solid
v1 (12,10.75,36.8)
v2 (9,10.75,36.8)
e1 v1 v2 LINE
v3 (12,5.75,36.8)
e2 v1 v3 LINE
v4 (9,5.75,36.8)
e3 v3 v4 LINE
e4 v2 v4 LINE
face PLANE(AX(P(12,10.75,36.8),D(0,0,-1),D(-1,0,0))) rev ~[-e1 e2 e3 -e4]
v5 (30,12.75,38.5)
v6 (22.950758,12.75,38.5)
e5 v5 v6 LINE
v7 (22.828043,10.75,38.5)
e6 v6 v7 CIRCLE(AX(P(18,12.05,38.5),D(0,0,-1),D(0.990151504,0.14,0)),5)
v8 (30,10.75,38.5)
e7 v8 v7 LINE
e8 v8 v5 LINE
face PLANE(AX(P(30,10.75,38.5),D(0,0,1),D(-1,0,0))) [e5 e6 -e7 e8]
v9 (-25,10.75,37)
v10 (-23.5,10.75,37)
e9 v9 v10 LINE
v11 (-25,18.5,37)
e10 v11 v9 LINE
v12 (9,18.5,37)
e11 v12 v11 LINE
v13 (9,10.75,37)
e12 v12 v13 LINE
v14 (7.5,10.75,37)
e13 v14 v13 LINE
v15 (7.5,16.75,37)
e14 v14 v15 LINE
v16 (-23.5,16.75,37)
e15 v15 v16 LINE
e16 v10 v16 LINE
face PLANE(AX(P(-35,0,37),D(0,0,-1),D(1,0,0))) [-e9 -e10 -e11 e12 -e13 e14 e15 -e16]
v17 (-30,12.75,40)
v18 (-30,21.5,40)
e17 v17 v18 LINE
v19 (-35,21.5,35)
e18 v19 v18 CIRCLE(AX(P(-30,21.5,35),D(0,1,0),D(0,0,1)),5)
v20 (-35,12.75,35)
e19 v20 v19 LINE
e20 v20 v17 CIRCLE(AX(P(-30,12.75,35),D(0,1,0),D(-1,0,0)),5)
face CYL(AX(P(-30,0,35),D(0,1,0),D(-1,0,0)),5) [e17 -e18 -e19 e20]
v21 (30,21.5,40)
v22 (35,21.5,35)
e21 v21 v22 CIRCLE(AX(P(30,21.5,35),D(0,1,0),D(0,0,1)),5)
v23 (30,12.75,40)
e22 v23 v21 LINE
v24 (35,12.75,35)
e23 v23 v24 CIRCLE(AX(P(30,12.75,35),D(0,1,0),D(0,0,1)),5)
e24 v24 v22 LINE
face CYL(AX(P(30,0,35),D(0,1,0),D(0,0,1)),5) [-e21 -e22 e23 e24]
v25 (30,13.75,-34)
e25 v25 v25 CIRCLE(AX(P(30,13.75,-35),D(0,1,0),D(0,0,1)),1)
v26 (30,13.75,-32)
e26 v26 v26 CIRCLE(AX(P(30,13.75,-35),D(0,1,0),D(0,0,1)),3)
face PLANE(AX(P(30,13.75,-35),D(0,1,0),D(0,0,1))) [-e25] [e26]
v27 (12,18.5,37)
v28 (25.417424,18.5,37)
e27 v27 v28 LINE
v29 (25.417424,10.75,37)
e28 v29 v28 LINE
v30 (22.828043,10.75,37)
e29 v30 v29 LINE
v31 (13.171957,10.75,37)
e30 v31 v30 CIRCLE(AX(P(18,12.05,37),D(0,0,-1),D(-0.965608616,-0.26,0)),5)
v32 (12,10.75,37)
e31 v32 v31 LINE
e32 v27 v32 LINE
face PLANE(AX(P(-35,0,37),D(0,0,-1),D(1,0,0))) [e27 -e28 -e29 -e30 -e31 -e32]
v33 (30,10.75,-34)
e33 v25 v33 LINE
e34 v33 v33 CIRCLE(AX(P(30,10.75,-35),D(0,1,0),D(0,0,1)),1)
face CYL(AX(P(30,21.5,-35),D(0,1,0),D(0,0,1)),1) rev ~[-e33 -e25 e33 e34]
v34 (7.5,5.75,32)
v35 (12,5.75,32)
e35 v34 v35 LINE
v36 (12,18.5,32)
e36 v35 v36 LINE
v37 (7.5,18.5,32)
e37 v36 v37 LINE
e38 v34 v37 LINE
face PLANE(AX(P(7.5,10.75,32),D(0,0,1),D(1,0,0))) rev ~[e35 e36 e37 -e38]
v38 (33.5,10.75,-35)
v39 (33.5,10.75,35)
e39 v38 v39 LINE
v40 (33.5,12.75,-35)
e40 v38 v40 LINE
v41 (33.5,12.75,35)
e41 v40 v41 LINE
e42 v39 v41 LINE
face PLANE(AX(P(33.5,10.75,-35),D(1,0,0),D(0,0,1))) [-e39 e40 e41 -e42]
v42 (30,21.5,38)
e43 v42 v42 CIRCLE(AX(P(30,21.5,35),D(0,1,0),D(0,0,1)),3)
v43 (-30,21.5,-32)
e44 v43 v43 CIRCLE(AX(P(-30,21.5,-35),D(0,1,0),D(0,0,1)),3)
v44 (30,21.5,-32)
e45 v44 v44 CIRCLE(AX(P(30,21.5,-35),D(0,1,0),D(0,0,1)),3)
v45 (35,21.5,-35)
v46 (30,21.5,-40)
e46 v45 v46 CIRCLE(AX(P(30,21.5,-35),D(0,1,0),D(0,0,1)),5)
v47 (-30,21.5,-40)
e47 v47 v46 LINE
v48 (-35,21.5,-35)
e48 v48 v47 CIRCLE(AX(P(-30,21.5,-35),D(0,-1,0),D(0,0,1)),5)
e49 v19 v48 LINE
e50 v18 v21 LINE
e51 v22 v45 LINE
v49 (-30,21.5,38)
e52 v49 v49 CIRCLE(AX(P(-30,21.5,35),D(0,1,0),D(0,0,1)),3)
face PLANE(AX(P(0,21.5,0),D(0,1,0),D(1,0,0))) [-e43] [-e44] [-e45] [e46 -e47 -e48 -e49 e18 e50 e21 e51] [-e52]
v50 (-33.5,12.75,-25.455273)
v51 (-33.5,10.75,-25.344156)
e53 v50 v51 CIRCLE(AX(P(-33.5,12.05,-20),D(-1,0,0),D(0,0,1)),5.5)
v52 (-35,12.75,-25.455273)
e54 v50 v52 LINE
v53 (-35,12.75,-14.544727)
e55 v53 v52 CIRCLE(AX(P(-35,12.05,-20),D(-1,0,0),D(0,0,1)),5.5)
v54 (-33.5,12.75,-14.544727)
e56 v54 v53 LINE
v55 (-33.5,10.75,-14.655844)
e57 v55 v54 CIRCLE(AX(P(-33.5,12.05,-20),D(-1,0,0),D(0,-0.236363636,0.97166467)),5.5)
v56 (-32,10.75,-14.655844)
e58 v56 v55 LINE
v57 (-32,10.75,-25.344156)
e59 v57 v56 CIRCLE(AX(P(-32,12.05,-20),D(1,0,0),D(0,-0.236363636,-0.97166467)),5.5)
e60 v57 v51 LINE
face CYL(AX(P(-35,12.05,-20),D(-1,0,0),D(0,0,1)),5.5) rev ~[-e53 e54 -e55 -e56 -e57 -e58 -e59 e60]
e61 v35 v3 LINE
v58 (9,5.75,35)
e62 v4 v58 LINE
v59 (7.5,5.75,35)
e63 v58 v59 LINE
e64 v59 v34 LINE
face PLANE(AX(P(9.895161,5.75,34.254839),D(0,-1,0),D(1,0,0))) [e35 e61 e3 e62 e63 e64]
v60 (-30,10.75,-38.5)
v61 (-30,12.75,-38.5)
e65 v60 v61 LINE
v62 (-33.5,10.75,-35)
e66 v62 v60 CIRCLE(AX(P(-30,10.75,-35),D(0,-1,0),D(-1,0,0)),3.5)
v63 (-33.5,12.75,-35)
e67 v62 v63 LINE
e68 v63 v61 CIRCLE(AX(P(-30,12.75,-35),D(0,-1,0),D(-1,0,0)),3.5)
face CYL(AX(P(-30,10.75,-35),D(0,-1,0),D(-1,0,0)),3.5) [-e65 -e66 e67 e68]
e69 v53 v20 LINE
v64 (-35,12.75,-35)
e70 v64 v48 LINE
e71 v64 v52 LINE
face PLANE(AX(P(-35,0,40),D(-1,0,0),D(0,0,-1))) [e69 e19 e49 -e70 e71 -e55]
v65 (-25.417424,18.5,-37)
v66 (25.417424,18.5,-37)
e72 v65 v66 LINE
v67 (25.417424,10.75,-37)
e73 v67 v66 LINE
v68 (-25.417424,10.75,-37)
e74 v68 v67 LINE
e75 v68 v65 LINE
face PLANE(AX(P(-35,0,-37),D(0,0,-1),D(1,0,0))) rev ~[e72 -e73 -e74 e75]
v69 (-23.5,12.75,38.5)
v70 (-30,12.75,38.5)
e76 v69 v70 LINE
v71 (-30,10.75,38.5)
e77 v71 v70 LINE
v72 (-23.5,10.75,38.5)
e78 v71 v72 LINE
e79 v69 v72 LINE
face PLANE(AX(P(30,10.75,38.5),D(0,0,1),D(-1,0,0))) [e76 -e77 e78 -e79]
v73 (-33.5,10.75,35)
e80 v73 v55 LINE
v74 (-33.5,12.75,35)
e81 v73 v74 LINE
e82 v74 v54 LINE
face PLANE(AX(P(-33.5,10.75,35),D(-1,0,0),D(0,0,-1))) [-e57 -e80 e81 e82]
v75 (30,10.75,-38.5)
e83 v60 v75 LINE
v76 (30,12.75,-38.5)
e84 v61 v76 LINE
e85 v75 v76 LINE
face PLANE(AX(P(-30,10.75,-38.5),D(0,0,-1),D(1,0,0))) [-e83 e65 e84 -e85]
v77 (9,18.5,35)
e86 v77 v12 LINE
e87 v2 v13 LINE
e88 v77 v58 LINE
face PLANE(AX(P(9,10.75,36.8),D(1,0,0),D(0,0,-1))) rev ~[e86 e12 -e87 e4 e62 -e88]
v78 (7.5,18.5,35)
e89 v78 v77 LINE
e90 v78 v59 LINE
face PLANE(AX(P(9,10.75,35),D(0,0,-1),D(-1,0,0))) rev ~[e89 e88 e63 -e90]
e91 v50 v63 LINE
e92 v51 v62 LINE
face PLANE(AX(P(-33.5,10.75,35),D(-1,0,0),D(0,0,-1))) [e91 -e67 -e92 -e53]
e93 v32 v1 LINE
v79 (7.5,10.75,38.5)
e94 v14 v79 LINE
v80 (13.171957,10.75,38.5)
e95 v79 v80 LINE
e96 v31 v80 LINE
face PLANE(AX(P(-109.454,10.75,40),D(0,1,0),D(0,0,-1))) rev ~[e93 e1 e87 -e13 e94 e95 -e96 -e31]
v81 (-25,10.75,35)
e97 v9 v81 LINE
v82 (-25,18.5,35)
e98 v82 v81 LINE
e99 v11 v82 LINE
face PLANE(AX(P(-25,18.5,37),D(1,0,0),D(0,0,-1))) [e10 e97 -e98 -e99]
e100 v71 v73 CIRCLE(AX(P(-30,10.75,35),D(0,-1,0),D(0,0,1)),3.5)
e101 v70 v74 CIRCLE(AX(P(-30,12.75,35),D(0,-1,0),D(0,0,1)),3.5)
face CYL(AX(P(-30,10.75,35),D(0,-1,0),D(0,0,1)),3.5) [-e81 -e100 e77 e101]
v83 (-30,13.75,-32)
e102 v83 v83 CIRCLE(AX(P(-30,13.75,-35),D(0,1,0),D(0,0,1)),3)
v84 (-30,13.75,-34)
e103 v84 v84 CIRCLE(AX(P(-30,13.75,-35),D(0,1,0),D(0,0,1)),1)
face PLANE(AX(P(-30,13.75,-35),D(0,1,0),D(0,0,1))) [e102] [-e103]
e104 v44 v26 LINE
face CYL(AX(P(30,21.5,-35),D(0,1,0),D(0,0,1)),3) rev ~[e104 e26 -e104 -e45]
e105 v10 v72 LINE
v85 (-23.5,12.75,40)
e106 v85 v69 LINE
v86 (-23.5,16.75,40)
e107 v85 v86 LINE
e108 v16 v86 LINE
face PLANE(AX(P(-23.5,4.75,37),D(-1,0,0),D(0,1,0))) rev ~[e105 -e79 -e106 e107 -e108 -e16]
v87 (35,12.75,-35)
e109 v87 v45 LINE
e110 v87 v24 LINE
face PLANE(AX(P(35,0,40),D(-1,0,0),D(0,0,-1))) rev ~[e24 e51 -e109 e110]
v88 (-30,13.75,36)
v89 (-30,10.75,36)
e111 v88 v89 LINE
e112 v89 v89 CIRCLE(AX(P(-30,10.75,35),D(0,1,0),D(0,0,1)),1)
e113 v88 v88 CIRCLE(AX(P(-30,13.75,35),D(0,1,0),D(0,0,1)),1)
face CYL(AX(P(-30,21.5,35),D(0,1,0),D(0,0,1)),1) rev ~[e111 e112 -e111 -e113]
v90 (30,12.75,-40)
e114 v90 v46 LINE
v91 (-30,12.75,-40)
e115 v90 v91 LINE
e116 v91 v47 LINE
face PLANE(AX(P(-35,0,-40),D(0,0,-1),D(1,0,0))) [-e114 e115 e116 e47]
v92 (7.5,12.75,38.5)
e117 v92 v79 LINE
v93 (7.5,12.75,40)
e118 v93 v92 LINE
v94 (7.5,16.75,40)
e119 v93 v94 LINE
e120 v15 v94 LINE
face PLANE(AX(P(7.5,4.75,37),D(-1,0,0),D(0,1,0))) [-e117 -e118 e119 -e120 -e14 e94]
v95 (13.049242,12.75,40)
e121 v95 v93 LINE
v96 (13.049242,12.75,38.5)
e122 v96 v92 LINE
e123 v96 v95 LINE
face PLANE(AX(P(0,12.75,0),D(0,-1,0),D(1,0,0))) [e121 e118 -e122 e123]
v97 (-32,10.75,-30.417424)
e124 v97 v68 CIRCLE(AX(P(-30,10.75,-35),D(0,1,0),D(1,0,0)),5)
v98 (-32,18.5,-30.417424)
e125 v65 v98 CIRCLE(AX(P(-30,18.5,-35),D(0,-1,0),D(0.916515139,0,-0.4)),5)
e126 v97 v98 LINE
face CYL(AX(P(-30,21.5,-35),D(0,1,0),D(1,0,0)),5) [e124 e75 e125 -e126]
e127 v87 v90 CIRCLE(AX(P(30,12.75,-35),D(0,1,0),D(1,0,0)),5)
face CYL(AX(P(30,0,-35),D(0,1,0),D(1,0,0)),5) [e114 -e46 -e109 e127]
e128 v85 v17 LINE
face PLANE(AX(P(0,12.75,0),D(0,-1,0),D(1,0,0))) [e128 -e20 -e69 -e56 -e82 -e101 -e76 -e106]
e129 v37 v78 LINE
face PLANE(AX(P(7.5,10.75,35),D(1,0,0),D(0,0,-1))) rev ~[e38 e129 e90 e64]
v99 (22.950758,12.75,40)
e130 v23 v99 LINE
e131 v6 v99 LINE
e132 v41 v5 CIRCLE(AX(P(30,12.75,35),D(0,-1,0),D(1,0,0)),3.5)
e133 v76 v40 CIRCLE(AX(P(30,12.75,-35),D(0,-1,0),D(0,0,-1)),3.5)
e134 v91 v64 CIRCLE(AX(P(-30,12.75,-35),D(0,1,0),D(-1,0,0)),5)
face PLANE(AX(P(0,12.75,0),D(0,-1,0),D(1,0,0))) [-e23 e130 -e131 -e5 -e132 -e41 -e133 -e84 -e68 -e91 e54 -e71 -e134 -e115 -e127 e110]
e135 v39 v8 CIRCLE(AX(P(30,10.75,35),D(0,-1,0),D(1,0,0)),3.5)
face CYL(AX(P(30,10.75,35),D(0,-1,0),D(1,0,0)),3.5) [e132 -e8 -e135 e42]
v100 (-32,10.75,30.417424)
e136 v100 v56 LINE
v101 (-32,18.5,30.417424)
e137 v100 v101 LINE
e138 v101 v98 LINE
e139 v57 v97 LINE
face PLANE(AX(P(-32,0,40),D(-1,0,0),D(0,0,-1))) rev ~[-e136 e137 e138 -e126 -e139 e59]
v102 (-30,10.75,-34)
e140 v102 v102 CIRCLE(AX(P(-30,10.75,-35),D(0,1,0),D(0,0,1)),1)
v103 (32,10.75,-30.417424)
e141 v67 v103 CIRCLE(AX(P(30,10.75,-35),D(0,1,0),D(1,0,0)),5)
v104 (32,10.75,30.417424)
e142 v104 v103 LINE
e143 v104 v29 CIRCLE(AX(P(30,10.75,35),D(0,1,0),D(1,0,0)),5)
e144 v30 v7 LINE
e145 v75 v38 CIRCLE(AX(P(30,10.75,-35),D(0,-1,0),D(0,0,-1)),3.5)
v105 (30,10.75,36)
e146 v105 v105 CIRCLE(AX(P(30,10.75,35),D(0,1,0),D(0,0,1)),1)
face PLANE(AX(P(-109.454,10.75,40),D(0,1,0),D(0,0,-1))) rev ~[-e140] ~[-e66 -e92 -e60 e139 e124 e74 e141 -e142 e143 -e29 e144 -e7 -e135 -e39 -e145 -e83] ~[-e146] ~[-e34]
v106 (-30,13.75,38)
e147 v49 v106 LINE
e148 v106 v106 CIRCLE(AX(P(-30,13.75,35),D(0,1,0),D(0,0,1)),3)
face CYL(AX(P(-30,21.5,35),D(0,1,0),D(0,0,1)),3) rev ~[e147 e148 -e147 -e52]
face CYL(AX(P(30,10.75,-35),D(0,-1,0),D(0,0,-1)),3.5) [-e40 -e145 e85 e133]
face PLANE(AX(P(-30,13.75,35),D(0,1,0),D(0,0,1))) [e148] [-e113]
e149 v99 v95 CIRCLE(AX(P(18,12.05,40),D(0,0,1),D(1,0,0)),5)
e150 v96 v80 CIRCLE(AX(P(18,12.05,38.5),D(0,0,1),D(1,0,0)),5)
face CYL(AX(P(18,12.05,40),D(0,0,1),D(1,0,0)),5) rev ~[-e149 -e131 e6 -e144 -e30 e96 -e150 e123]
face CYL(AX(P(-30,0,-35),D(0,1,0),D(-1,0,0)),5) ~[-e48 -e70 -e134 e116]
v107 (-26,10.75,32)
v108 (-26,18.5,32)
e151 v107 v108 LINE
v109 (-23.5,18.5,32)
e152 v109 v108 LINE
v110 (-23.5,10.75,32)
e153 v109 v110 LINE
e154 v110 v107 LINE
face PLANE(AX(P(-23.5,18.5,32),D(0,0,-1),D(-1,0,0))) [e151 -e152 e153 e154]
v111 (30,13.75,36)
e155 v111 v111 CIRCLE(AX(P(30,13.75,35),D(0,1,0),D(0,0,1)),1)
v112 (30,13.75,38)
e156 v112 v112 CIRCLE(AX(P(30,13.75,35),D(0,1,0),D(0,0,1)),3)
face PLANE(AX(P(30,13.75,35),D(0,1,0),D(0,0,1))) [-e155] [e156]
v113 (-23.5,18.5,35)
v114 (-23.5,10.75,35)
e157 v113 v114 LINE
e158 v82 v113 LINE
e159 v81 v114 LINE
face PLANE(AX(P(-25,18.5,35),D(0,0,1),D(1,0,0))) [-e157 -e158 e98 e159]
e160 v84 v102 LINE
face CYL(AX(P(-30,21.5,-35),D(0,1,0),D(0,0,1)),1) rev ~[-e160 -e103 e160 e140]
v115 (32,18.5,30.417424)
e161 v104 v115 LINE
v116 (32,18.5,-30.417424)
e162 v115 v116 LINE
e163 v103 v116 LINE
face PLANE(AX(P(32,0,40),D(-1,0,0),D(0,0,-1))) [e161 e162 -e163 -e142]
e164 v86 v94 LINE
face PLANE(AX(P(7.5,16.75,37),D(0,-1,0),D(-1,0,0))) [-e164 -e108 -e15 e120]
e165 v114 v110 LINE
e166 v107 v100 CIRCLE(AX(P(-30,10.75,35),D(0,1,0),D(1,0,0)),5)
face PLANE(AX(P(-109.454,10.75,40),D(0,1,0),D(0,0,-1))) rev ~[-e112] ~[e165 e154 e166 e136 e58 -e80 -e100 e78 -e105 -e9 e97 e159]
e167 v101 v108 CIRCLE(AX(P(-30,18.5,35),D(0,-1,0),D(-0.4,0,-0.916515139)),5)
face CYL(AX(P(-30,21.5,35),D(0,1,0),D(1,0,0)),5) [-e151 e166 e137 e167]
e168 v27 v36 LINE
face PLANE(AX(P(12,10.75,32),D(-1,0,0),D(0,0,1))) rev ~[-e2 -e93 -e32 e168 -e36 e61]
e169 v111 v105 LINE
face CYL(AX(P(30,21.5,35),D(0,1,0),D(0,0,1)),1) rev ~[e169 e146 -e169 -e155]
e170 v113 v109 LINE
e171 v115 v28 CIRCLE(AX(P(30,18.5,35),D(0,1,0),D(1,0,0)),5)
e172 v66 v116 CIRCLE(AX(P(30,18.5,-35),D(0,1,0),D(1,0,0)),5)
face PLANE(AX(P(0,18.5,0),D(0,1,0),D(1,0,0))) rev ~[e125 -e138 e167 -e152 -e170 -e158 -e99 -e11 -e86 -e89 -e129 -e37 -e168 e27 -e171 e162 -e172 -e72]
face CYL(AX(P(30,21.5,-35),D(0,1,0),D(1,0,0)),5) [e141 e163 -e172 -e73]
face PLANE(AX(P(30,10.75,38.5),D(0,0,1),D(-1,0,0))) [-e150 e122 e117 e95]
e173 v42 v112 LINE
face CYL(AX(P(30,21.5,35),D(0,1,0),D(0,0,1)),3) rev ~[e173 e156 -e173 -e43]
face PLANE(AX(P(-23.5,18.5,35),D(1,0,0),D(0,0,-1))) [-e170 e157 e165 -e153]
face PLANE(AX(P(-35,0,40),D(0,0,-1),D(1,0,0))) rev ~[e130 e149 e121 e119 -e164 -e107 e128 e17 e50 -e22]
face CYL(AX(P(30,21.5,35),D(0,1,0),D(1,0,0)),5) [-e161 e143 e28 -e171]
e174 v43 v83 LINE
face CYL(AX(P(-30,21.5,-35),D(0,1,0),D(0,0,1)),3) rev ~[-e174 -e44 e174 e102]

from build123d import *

# Parameters (mm, degrees)
SKETCH1_W              = 70
SKETCH1_H              = 80
BOSS_EXTRUDE1_DEPTH    = 21.5
FILLET1_R              = 5
SHELL1_T               = 3
BOSS_EXTRUDE2_REACH    = 59.335
SKETCH3_R              = 5
SPLIT2_SURFACE_1_BACK  = 109.454
SPLIT2_SURFACE_1_DEPTH = 218.908
SPLIT2_SURFACE_2_BACK  = 109.454
SPLIT2_SURFACE_2_DEPTH = 218.908
SKETCH4_R              = 1
CUT_EXTRUDE1_DEPTH     = 58.334544561
SKETCH6_OUTSIDE_W      = 93.69
SKETCH6_OUTSIDE_H      = 103.69
CUT_EXTRUDE3_DEPTH     = 2
BOSS_EXTRUDE3_START    = 1.8
BOSS_EXTRUDE3_DEPTH    = 1.8
SKETCH8_R              = 5.5
CUT_EXTRUDE4_DEPTH     = 10
SKETCH9_R              = 5
SKETCH9_W              = 20
SKETCH9_H              = 12
CUT_EXTRUDE5_DEPTH     = 10
BOSS_EXTRUDE4_DEPTH    = 7.75
SKETCH5_R              = 3
CUT_EXTRUDE2_DEPTH     = 7.75
SKETCH12_W             = 31
SKETCH12_H             = 12
CUT_EXTRUDE6_DEPTH     = 10
BOSS_EXTRUDE5_DEPTH    = 5


with BuildPart() as part:
    # Sketch1 → Boss-Extrude1 (new body)
    with BuildSketch(Plane(origin=(0, 0, 0), x_dir=(1, 0, 0), z_dir=(0, 1, 0))):
        Rectangle(SKETCH1_W, SKETCH1_H)
    extrude(amount=BOSS_EXTRUDE1_DEPTH)

    # Fillet1
    fillet1_edges = [part.edges().sort_by_distance(p)[0] for p in [
        (-35, 10.75, -40),
        (35, 10.75, -40),
        (35, 10.75, 40),
        (-35, 10.75, 40),
    ]]
    fillet(fillet1_edges, radius=FILLET1_R)

    # Shell1 (no face opened: a closed hollow body)
    add(offset(amount=-SHELL1_T, mode=Mode.PRIVATE), mode=Mode.SUBTRACT)

    # Sketch3 → Boss-Extrude2 (add, up to next)
    with BuildSketch(Plane(origin=(0, 21.5, 0), x_dir=(1, 0, 0), z_dir=(0, 1, 0)), mode=Mode.PRIVATE) as boss_extrude2_sk1:
        with Locations((-30, 35)):
            Circle(SKETCH3_R)
    boss_extrude2_tool1 = extrude(boss_extrude2_sk1.sketch, amount=-BOSS_EXTRUDE2_REACH, mode=Mode.PRIVATE) - part.part
    # Sketch3 → Boss-Extrude2 (add, up to next)
    with BuildSketch(Plane(origin=(0, 21.5, 0), x_dir=(1, 0, 0), z_dir=(0, 1, 0)), mode=Mode.PRIVATE) as boss_extrude2_sk2:
        with Locations((30, 35)):
            Circle(SKETCH3_R)
    boss_extrude2_tool2 = extrude(boss_extrude2_sk2.sketch, amount=-BOSS_EXTRUDE2_REACH, mode=Mode.PRIVATE) - part.part
    # Sketch3 → Boss-Extrude2 (add, up to next)
    with BuildSketch(Plane(origin=(0, 21.5, 0), x_dir=(1, 0, 0), z_dir=(0, 1, 0)), mode=Mode.PRIVATE) as boss_extrude2_sk3:
        with Locations((30, -35)):
            Circle(SKETCH3_R)
    boss_extrude2_tool3 = extrude(boss_extrude2_sk3.sketch, amount=-BOSS_EXTRUDE2_REACH, mode=Mode.PRIVATE) - part.part
    # Sketch3 → Boss-Extrude2 (add, up to next)
    with BuildSketch(Plane(origin=(0, 21.5, 0), x_dir=(1, 0, 0), z_dir=(0, 1, 0)), mode=Mode.PRIVATE) as boss_extrude2_sk4:
        with Locations((-30, -35)):
            Circle(SKETCH3_R)
    boss_extrude2_tool4 = extrude(boss_extrude2_sk4.sketch, amount=-BOSS_EXTRUDE2_REACH, mode=Mode.PRIVATE) - part.part
    add(boss_extrude2_tool1.solids().sort_by_distance((-30, 21.5, -35))[0])
    add(boss_extrude2_tool2.solids().sort_by_distance((30, 21.5, -35))[0])
    add(boss_extrude2_tool3.solids().sort_by_distance((30, 21.5, 35))[0])
    add(boss_extrude2_tool4.solids().sort_by_distance((-30, 21.5, 35))[0])


with BuildPart() as body_2:
    # Split2: the piece behind the surface
    add(part.part)
    # Split2 surface: a surface, the sketch's curves swept straight by 218.908 mm
    with BuildLine(Plane(origin=(0, 0, 0), x_dir=(0, 0, -1), z_dir=(1, 0, 0)).offset(-SPLIT2_SURFACE_1_BACK), mode=Mode.PRIVATE) as split2_surface_1_path:
        Line((-40, 10.75), (51.562362236, 10.75))
    split2_surface_1 = Shell.extrude(split2_surface_1_path.wire(), (1 * SPLIT2_SURFACE_1_DEPTH, 0 * SPLIT2_SURFACE_1_DEPTH, 0 * SPLIT2_SURFACE_1_DEPTH))
    split(bisect_by=split2_surface_1, keep=Keep.BOTTOM)


with BuildPart() as part_1:
    add(part.part)

    # Split2: split by a surface, the side it looks to stays
    # Split2 surface: a surface, the sketch's curves swept straight by 218.908 mm
    with BuildLine(Plane(origin=(0, 0, 0), x_dir=(0, 0, -1), z_dir=(1, 0, 0)).offset(-SPLIT2_SURFACE_2_BACK), mode=Mode.PRIVATE) as split2_surface_2_path:
        Line((-40, 10.75), (51.562362236, 10.75))
    split2_surface_2 = Shell.extrude(split2_surface_2_path.wire(), (1 * SPLIT2_SURFACE_2_DEPTH, 0 * SPLIT2_SURFACE_2_DEPTH, 0 * SPLIT2_SURFACE_2_DEPTH))
    split(bisect_by=split2_surface_2, keep=Keep.TOP)


with BuildPart() as cut_extrude1_tool:
    # Sketch4 → Cut-Extrude1 (new, through all)
    with BuildSketch(Plane(origin=(0, 21.5, 0), x_dir=(1, 0, 0), z_dir=(0, 1, 0))):
        with Locations(Location((-30, 35, 0), (0, 0, 270))):
            Circle(SKETCH4_R)
        with Locations(Location((30, 35, 0), (0, 0, 270))):
            Circle(SKETCH4_R)
        with Locations(Location((30, -35, 0), (0, 0, 270))):
            Circle(SKETCH4_R)
        with Locations(Location((-30, -35, 0), (0, 0, 270))):
            Circle(SKETCH4_R)
    extrude(amount=-CUT_EXTRUDE1_DEPTH)


with BuildPart() as part_2:
    add(part_1.part)

    # Cut-Extrude1: cut by cut_extrude1_tool
    add(cut_extrude1_tool.part, mode=Mode.SUBTRACT)

    # Sketch6 outside → Cut-Extrude3 (cut)
    with BuildSketch(Plane.XZ.offset(-10.75)):
        Rectangle(SKETCH6_OUTSIDE_W, SKETCH6_OUTSIDE_H)
        with BuildLine():
            Line((-30, -38.5), (30, -38.5))
            ThreePointArc((30, -38.5), (32.474873734, -37.474873734), (33.5, -35))
            Line((33.5, -35), (33.5, 35))
            ThreePointArc((33.5, 35), (32.474873734, 37.474873734), (30, 38.5))
            Line((30, 38.5), (-30, 38.5))
            ThreePointArc((-30, 38.5), (-32.474873734, 37.474873734), (-33.5, 35))
            Line((-33.5, 35), (-33.5, -35))
            ThreePointArc((-33.5, -35), (-32.474873734, -37.474873734), (-30, -38.5))
        make_face(mode=Mode.SUBTRACT)
    extrude(amount=-CUT_EXTRUDE3_DEPTH, mode=Mode.SUBTRACT)


with BuildPart() as body_2_1:
    add(body_2.part)

    # Cut-Extrude1: cut by cut_extrude1_tool
    add(cut_extrude1_tool.part, mode=Mode.SUBTRACT)

    # Sketch7 → Boss-Extrude3 (add)
    with BuildSketch(Plane(origin=(0, 10.75, 0), x_dir=(1, 0, 0), z_dir=(0, 1, 0)).offset(BOSS_EXTRUDE3_START)):
        with BuildLine():
            Line((-30, 40), (30, 40))
            ThreePointArc((30, 40), (33.535533906, 38.535533906), (35, 35))
            Line((35, 35), (35, -35))
            ThreePointArc((35, -35), (33.535533906, -38.535533906), (30, -40))
            Line((30, -40), (-30, -40))
            ThreePointArc((-30, -40), (-33.535533906, -38.535533906), (-35, -35))
            Line((-35, -35), (-35, 35))
            ThreePointArc((-35, 35), (-33.535533906, 38.535533906), (-30, 40))
        make_face()
        with BuildLine():
            Line((30, 38.7), (-30, 38.7))
            ThreePointArc((-30, 38.7), (-32.61629509, 37.61629509), (-33.7, 35))
            Line((-33.7, 35), (-33.7, -35))
            ThreePointArc((-33.7, -35), (-32.61629509, -37.61629509), (-30, -38.7))
            Line((-30, -38.7), (30, -38.7))
            ThreePointArc((30, -38.7), (32.61629509, -37.61629509), (33.7, -35))
            Line((33.7, -35), (33.7, 35))
            ThreePointArc((33.7, 35), (32.61629509, 37.61629509), (30, 38.7))
        make_face(mode=Mode.SUBTRACT)
    extrude(amount=-BOSS_EXTRUDE3_DEPTH)


with BuildPart() as cut_extrude4_tool:
    # Sketch8 → Cut-Extrude4 (new body)
    with BuildSketch(Plane.ZY.offset(35)):
        with Locations((-20, 12.05)):
            Circle(SKETCH8_R)
    extrude(amount=-CUT_EXTRUDE4_DEPTH)


with BuildPart() as part_3:
    add(part_2.part)

    # Cut-Extrude4: cut by cut_extrude4_tool
    add(cut_extrude4_tool.part, mode=Mode.SUBTRACT)


with BuildPart() as body_2_2:
    add(body_2_1.part)

    # Cut-Extrude4: cut by cut_extrude4_tool
    add(cut_extrude4_tool.part, mode=Mode.SUBTRACT)


with BuildPart() as cut_extrude5_tool:
    # Sketch9 → Cut-Extrude5 (new body)
    with BuildSketch(Plane.XY.offset(40)):
        with Locations((18, 12.05)):
            Circle(SKETCH9_R)
        with Locations((-10, 10.75)):
            Rectangle(SKETCH9_W, SKETCH9_H)
    extrude(amount=-CUT_EXTRUDE5_DEPTH)


with BuildPart() as part_4:
    add(part_3.part)

    # Cut-Extrude5: cut by cut_extrude5_tool
    add(cut_extrude5_tool.part, mode=Mode.SUBTRACT)

    # Sketch11 → Boss-Extrude4 (add)
    with BuildSketch(Plane.XZ.offset(-18.5)):
        Polygon((-28, 38.5), (12, 38.5), (12, 32), (7.5, 32), (7.5, 35), (9, 35), (9, 37), (-25, 37), (-25, 35), (-23.5, 35), (-23.5, 32), (-28, 32), align=None)
    extrude(amount=BOSS_EXTRUDE4_DEPTH)

    # Sketch5 → Cut-Extrude2 (cut)
    with BuildSketch(Plane(origin=(0, 21.5, 0), x_dir=(1, 0, 0), z_dir=(0, 1, 0))):
        with Locations(Location((-30, 35, 0), (0, 0, 270))):
            Circle(SKETCH5_R)
        with Locations(Location((30, 35, 0), (0, 0, 270))):
            Circle(SKETCH5_R)
        with Locations(Location((30, -35, 0), (0, 0, 270))):
            Circle(SKETCH5_R)
        with Locations(Location((-30, -35, 0), (0, 0, 270))):
            Circle(SKETCH5_R)
    extrude(amount=-CUT_EXTRUDE2_DEPTH, mode=Mode.SUBTRACT)


with BuildPart() as body_2_3:
    add(body_2_2.part)

    # Cut-Extrude5: cut by cut_extrude5_tool
    add(cut_extrude5_tool.part, mode=Mode.SUBTRACT)


with BuildPart() as cut_extrude6_tool:
    # Sketch12 → Cut-Extrude6 (new body)
    with BuildSketch(Plane(origin=(0, 0, 37), x_dir=(-1, 0, 0), z_dir=(0, 0, -1))):
        with Locations((8, 10.75)):
            Rectangle(SKETCH12_W, SKETCH12_H)
    extrude(amount=-CUT_EXTRUDE6_DEPTH)


with BuildPart() as part_5:
    add(part_4.part)

    # Cut-Extrude6: cut by cut_extrude6_tool
    add(cut_extrude6_tool.part, mode=Mode.SUBTRACT)

    # Sketch14 → Boss-Extrude5 (add)
    with BuildSketch(Plane.XZ.offset(-10.75)):
        Polygon((12, 36.8), (9, 36.8), (9, 35), (7.5, 35), (7.5, 32), (12, 32), align=None)
    extrude(amount=BOSS_EXTRUDE5_DEPTH)


with BuildPart() as body_2_4:
    add(body_2_3.part)

    # Cut-Extrude6: cut by cut_extrude6_tool
    add(cut_extrude6_tool.part, mode=Mode.SUBTRACT)


solid = part_5.part
